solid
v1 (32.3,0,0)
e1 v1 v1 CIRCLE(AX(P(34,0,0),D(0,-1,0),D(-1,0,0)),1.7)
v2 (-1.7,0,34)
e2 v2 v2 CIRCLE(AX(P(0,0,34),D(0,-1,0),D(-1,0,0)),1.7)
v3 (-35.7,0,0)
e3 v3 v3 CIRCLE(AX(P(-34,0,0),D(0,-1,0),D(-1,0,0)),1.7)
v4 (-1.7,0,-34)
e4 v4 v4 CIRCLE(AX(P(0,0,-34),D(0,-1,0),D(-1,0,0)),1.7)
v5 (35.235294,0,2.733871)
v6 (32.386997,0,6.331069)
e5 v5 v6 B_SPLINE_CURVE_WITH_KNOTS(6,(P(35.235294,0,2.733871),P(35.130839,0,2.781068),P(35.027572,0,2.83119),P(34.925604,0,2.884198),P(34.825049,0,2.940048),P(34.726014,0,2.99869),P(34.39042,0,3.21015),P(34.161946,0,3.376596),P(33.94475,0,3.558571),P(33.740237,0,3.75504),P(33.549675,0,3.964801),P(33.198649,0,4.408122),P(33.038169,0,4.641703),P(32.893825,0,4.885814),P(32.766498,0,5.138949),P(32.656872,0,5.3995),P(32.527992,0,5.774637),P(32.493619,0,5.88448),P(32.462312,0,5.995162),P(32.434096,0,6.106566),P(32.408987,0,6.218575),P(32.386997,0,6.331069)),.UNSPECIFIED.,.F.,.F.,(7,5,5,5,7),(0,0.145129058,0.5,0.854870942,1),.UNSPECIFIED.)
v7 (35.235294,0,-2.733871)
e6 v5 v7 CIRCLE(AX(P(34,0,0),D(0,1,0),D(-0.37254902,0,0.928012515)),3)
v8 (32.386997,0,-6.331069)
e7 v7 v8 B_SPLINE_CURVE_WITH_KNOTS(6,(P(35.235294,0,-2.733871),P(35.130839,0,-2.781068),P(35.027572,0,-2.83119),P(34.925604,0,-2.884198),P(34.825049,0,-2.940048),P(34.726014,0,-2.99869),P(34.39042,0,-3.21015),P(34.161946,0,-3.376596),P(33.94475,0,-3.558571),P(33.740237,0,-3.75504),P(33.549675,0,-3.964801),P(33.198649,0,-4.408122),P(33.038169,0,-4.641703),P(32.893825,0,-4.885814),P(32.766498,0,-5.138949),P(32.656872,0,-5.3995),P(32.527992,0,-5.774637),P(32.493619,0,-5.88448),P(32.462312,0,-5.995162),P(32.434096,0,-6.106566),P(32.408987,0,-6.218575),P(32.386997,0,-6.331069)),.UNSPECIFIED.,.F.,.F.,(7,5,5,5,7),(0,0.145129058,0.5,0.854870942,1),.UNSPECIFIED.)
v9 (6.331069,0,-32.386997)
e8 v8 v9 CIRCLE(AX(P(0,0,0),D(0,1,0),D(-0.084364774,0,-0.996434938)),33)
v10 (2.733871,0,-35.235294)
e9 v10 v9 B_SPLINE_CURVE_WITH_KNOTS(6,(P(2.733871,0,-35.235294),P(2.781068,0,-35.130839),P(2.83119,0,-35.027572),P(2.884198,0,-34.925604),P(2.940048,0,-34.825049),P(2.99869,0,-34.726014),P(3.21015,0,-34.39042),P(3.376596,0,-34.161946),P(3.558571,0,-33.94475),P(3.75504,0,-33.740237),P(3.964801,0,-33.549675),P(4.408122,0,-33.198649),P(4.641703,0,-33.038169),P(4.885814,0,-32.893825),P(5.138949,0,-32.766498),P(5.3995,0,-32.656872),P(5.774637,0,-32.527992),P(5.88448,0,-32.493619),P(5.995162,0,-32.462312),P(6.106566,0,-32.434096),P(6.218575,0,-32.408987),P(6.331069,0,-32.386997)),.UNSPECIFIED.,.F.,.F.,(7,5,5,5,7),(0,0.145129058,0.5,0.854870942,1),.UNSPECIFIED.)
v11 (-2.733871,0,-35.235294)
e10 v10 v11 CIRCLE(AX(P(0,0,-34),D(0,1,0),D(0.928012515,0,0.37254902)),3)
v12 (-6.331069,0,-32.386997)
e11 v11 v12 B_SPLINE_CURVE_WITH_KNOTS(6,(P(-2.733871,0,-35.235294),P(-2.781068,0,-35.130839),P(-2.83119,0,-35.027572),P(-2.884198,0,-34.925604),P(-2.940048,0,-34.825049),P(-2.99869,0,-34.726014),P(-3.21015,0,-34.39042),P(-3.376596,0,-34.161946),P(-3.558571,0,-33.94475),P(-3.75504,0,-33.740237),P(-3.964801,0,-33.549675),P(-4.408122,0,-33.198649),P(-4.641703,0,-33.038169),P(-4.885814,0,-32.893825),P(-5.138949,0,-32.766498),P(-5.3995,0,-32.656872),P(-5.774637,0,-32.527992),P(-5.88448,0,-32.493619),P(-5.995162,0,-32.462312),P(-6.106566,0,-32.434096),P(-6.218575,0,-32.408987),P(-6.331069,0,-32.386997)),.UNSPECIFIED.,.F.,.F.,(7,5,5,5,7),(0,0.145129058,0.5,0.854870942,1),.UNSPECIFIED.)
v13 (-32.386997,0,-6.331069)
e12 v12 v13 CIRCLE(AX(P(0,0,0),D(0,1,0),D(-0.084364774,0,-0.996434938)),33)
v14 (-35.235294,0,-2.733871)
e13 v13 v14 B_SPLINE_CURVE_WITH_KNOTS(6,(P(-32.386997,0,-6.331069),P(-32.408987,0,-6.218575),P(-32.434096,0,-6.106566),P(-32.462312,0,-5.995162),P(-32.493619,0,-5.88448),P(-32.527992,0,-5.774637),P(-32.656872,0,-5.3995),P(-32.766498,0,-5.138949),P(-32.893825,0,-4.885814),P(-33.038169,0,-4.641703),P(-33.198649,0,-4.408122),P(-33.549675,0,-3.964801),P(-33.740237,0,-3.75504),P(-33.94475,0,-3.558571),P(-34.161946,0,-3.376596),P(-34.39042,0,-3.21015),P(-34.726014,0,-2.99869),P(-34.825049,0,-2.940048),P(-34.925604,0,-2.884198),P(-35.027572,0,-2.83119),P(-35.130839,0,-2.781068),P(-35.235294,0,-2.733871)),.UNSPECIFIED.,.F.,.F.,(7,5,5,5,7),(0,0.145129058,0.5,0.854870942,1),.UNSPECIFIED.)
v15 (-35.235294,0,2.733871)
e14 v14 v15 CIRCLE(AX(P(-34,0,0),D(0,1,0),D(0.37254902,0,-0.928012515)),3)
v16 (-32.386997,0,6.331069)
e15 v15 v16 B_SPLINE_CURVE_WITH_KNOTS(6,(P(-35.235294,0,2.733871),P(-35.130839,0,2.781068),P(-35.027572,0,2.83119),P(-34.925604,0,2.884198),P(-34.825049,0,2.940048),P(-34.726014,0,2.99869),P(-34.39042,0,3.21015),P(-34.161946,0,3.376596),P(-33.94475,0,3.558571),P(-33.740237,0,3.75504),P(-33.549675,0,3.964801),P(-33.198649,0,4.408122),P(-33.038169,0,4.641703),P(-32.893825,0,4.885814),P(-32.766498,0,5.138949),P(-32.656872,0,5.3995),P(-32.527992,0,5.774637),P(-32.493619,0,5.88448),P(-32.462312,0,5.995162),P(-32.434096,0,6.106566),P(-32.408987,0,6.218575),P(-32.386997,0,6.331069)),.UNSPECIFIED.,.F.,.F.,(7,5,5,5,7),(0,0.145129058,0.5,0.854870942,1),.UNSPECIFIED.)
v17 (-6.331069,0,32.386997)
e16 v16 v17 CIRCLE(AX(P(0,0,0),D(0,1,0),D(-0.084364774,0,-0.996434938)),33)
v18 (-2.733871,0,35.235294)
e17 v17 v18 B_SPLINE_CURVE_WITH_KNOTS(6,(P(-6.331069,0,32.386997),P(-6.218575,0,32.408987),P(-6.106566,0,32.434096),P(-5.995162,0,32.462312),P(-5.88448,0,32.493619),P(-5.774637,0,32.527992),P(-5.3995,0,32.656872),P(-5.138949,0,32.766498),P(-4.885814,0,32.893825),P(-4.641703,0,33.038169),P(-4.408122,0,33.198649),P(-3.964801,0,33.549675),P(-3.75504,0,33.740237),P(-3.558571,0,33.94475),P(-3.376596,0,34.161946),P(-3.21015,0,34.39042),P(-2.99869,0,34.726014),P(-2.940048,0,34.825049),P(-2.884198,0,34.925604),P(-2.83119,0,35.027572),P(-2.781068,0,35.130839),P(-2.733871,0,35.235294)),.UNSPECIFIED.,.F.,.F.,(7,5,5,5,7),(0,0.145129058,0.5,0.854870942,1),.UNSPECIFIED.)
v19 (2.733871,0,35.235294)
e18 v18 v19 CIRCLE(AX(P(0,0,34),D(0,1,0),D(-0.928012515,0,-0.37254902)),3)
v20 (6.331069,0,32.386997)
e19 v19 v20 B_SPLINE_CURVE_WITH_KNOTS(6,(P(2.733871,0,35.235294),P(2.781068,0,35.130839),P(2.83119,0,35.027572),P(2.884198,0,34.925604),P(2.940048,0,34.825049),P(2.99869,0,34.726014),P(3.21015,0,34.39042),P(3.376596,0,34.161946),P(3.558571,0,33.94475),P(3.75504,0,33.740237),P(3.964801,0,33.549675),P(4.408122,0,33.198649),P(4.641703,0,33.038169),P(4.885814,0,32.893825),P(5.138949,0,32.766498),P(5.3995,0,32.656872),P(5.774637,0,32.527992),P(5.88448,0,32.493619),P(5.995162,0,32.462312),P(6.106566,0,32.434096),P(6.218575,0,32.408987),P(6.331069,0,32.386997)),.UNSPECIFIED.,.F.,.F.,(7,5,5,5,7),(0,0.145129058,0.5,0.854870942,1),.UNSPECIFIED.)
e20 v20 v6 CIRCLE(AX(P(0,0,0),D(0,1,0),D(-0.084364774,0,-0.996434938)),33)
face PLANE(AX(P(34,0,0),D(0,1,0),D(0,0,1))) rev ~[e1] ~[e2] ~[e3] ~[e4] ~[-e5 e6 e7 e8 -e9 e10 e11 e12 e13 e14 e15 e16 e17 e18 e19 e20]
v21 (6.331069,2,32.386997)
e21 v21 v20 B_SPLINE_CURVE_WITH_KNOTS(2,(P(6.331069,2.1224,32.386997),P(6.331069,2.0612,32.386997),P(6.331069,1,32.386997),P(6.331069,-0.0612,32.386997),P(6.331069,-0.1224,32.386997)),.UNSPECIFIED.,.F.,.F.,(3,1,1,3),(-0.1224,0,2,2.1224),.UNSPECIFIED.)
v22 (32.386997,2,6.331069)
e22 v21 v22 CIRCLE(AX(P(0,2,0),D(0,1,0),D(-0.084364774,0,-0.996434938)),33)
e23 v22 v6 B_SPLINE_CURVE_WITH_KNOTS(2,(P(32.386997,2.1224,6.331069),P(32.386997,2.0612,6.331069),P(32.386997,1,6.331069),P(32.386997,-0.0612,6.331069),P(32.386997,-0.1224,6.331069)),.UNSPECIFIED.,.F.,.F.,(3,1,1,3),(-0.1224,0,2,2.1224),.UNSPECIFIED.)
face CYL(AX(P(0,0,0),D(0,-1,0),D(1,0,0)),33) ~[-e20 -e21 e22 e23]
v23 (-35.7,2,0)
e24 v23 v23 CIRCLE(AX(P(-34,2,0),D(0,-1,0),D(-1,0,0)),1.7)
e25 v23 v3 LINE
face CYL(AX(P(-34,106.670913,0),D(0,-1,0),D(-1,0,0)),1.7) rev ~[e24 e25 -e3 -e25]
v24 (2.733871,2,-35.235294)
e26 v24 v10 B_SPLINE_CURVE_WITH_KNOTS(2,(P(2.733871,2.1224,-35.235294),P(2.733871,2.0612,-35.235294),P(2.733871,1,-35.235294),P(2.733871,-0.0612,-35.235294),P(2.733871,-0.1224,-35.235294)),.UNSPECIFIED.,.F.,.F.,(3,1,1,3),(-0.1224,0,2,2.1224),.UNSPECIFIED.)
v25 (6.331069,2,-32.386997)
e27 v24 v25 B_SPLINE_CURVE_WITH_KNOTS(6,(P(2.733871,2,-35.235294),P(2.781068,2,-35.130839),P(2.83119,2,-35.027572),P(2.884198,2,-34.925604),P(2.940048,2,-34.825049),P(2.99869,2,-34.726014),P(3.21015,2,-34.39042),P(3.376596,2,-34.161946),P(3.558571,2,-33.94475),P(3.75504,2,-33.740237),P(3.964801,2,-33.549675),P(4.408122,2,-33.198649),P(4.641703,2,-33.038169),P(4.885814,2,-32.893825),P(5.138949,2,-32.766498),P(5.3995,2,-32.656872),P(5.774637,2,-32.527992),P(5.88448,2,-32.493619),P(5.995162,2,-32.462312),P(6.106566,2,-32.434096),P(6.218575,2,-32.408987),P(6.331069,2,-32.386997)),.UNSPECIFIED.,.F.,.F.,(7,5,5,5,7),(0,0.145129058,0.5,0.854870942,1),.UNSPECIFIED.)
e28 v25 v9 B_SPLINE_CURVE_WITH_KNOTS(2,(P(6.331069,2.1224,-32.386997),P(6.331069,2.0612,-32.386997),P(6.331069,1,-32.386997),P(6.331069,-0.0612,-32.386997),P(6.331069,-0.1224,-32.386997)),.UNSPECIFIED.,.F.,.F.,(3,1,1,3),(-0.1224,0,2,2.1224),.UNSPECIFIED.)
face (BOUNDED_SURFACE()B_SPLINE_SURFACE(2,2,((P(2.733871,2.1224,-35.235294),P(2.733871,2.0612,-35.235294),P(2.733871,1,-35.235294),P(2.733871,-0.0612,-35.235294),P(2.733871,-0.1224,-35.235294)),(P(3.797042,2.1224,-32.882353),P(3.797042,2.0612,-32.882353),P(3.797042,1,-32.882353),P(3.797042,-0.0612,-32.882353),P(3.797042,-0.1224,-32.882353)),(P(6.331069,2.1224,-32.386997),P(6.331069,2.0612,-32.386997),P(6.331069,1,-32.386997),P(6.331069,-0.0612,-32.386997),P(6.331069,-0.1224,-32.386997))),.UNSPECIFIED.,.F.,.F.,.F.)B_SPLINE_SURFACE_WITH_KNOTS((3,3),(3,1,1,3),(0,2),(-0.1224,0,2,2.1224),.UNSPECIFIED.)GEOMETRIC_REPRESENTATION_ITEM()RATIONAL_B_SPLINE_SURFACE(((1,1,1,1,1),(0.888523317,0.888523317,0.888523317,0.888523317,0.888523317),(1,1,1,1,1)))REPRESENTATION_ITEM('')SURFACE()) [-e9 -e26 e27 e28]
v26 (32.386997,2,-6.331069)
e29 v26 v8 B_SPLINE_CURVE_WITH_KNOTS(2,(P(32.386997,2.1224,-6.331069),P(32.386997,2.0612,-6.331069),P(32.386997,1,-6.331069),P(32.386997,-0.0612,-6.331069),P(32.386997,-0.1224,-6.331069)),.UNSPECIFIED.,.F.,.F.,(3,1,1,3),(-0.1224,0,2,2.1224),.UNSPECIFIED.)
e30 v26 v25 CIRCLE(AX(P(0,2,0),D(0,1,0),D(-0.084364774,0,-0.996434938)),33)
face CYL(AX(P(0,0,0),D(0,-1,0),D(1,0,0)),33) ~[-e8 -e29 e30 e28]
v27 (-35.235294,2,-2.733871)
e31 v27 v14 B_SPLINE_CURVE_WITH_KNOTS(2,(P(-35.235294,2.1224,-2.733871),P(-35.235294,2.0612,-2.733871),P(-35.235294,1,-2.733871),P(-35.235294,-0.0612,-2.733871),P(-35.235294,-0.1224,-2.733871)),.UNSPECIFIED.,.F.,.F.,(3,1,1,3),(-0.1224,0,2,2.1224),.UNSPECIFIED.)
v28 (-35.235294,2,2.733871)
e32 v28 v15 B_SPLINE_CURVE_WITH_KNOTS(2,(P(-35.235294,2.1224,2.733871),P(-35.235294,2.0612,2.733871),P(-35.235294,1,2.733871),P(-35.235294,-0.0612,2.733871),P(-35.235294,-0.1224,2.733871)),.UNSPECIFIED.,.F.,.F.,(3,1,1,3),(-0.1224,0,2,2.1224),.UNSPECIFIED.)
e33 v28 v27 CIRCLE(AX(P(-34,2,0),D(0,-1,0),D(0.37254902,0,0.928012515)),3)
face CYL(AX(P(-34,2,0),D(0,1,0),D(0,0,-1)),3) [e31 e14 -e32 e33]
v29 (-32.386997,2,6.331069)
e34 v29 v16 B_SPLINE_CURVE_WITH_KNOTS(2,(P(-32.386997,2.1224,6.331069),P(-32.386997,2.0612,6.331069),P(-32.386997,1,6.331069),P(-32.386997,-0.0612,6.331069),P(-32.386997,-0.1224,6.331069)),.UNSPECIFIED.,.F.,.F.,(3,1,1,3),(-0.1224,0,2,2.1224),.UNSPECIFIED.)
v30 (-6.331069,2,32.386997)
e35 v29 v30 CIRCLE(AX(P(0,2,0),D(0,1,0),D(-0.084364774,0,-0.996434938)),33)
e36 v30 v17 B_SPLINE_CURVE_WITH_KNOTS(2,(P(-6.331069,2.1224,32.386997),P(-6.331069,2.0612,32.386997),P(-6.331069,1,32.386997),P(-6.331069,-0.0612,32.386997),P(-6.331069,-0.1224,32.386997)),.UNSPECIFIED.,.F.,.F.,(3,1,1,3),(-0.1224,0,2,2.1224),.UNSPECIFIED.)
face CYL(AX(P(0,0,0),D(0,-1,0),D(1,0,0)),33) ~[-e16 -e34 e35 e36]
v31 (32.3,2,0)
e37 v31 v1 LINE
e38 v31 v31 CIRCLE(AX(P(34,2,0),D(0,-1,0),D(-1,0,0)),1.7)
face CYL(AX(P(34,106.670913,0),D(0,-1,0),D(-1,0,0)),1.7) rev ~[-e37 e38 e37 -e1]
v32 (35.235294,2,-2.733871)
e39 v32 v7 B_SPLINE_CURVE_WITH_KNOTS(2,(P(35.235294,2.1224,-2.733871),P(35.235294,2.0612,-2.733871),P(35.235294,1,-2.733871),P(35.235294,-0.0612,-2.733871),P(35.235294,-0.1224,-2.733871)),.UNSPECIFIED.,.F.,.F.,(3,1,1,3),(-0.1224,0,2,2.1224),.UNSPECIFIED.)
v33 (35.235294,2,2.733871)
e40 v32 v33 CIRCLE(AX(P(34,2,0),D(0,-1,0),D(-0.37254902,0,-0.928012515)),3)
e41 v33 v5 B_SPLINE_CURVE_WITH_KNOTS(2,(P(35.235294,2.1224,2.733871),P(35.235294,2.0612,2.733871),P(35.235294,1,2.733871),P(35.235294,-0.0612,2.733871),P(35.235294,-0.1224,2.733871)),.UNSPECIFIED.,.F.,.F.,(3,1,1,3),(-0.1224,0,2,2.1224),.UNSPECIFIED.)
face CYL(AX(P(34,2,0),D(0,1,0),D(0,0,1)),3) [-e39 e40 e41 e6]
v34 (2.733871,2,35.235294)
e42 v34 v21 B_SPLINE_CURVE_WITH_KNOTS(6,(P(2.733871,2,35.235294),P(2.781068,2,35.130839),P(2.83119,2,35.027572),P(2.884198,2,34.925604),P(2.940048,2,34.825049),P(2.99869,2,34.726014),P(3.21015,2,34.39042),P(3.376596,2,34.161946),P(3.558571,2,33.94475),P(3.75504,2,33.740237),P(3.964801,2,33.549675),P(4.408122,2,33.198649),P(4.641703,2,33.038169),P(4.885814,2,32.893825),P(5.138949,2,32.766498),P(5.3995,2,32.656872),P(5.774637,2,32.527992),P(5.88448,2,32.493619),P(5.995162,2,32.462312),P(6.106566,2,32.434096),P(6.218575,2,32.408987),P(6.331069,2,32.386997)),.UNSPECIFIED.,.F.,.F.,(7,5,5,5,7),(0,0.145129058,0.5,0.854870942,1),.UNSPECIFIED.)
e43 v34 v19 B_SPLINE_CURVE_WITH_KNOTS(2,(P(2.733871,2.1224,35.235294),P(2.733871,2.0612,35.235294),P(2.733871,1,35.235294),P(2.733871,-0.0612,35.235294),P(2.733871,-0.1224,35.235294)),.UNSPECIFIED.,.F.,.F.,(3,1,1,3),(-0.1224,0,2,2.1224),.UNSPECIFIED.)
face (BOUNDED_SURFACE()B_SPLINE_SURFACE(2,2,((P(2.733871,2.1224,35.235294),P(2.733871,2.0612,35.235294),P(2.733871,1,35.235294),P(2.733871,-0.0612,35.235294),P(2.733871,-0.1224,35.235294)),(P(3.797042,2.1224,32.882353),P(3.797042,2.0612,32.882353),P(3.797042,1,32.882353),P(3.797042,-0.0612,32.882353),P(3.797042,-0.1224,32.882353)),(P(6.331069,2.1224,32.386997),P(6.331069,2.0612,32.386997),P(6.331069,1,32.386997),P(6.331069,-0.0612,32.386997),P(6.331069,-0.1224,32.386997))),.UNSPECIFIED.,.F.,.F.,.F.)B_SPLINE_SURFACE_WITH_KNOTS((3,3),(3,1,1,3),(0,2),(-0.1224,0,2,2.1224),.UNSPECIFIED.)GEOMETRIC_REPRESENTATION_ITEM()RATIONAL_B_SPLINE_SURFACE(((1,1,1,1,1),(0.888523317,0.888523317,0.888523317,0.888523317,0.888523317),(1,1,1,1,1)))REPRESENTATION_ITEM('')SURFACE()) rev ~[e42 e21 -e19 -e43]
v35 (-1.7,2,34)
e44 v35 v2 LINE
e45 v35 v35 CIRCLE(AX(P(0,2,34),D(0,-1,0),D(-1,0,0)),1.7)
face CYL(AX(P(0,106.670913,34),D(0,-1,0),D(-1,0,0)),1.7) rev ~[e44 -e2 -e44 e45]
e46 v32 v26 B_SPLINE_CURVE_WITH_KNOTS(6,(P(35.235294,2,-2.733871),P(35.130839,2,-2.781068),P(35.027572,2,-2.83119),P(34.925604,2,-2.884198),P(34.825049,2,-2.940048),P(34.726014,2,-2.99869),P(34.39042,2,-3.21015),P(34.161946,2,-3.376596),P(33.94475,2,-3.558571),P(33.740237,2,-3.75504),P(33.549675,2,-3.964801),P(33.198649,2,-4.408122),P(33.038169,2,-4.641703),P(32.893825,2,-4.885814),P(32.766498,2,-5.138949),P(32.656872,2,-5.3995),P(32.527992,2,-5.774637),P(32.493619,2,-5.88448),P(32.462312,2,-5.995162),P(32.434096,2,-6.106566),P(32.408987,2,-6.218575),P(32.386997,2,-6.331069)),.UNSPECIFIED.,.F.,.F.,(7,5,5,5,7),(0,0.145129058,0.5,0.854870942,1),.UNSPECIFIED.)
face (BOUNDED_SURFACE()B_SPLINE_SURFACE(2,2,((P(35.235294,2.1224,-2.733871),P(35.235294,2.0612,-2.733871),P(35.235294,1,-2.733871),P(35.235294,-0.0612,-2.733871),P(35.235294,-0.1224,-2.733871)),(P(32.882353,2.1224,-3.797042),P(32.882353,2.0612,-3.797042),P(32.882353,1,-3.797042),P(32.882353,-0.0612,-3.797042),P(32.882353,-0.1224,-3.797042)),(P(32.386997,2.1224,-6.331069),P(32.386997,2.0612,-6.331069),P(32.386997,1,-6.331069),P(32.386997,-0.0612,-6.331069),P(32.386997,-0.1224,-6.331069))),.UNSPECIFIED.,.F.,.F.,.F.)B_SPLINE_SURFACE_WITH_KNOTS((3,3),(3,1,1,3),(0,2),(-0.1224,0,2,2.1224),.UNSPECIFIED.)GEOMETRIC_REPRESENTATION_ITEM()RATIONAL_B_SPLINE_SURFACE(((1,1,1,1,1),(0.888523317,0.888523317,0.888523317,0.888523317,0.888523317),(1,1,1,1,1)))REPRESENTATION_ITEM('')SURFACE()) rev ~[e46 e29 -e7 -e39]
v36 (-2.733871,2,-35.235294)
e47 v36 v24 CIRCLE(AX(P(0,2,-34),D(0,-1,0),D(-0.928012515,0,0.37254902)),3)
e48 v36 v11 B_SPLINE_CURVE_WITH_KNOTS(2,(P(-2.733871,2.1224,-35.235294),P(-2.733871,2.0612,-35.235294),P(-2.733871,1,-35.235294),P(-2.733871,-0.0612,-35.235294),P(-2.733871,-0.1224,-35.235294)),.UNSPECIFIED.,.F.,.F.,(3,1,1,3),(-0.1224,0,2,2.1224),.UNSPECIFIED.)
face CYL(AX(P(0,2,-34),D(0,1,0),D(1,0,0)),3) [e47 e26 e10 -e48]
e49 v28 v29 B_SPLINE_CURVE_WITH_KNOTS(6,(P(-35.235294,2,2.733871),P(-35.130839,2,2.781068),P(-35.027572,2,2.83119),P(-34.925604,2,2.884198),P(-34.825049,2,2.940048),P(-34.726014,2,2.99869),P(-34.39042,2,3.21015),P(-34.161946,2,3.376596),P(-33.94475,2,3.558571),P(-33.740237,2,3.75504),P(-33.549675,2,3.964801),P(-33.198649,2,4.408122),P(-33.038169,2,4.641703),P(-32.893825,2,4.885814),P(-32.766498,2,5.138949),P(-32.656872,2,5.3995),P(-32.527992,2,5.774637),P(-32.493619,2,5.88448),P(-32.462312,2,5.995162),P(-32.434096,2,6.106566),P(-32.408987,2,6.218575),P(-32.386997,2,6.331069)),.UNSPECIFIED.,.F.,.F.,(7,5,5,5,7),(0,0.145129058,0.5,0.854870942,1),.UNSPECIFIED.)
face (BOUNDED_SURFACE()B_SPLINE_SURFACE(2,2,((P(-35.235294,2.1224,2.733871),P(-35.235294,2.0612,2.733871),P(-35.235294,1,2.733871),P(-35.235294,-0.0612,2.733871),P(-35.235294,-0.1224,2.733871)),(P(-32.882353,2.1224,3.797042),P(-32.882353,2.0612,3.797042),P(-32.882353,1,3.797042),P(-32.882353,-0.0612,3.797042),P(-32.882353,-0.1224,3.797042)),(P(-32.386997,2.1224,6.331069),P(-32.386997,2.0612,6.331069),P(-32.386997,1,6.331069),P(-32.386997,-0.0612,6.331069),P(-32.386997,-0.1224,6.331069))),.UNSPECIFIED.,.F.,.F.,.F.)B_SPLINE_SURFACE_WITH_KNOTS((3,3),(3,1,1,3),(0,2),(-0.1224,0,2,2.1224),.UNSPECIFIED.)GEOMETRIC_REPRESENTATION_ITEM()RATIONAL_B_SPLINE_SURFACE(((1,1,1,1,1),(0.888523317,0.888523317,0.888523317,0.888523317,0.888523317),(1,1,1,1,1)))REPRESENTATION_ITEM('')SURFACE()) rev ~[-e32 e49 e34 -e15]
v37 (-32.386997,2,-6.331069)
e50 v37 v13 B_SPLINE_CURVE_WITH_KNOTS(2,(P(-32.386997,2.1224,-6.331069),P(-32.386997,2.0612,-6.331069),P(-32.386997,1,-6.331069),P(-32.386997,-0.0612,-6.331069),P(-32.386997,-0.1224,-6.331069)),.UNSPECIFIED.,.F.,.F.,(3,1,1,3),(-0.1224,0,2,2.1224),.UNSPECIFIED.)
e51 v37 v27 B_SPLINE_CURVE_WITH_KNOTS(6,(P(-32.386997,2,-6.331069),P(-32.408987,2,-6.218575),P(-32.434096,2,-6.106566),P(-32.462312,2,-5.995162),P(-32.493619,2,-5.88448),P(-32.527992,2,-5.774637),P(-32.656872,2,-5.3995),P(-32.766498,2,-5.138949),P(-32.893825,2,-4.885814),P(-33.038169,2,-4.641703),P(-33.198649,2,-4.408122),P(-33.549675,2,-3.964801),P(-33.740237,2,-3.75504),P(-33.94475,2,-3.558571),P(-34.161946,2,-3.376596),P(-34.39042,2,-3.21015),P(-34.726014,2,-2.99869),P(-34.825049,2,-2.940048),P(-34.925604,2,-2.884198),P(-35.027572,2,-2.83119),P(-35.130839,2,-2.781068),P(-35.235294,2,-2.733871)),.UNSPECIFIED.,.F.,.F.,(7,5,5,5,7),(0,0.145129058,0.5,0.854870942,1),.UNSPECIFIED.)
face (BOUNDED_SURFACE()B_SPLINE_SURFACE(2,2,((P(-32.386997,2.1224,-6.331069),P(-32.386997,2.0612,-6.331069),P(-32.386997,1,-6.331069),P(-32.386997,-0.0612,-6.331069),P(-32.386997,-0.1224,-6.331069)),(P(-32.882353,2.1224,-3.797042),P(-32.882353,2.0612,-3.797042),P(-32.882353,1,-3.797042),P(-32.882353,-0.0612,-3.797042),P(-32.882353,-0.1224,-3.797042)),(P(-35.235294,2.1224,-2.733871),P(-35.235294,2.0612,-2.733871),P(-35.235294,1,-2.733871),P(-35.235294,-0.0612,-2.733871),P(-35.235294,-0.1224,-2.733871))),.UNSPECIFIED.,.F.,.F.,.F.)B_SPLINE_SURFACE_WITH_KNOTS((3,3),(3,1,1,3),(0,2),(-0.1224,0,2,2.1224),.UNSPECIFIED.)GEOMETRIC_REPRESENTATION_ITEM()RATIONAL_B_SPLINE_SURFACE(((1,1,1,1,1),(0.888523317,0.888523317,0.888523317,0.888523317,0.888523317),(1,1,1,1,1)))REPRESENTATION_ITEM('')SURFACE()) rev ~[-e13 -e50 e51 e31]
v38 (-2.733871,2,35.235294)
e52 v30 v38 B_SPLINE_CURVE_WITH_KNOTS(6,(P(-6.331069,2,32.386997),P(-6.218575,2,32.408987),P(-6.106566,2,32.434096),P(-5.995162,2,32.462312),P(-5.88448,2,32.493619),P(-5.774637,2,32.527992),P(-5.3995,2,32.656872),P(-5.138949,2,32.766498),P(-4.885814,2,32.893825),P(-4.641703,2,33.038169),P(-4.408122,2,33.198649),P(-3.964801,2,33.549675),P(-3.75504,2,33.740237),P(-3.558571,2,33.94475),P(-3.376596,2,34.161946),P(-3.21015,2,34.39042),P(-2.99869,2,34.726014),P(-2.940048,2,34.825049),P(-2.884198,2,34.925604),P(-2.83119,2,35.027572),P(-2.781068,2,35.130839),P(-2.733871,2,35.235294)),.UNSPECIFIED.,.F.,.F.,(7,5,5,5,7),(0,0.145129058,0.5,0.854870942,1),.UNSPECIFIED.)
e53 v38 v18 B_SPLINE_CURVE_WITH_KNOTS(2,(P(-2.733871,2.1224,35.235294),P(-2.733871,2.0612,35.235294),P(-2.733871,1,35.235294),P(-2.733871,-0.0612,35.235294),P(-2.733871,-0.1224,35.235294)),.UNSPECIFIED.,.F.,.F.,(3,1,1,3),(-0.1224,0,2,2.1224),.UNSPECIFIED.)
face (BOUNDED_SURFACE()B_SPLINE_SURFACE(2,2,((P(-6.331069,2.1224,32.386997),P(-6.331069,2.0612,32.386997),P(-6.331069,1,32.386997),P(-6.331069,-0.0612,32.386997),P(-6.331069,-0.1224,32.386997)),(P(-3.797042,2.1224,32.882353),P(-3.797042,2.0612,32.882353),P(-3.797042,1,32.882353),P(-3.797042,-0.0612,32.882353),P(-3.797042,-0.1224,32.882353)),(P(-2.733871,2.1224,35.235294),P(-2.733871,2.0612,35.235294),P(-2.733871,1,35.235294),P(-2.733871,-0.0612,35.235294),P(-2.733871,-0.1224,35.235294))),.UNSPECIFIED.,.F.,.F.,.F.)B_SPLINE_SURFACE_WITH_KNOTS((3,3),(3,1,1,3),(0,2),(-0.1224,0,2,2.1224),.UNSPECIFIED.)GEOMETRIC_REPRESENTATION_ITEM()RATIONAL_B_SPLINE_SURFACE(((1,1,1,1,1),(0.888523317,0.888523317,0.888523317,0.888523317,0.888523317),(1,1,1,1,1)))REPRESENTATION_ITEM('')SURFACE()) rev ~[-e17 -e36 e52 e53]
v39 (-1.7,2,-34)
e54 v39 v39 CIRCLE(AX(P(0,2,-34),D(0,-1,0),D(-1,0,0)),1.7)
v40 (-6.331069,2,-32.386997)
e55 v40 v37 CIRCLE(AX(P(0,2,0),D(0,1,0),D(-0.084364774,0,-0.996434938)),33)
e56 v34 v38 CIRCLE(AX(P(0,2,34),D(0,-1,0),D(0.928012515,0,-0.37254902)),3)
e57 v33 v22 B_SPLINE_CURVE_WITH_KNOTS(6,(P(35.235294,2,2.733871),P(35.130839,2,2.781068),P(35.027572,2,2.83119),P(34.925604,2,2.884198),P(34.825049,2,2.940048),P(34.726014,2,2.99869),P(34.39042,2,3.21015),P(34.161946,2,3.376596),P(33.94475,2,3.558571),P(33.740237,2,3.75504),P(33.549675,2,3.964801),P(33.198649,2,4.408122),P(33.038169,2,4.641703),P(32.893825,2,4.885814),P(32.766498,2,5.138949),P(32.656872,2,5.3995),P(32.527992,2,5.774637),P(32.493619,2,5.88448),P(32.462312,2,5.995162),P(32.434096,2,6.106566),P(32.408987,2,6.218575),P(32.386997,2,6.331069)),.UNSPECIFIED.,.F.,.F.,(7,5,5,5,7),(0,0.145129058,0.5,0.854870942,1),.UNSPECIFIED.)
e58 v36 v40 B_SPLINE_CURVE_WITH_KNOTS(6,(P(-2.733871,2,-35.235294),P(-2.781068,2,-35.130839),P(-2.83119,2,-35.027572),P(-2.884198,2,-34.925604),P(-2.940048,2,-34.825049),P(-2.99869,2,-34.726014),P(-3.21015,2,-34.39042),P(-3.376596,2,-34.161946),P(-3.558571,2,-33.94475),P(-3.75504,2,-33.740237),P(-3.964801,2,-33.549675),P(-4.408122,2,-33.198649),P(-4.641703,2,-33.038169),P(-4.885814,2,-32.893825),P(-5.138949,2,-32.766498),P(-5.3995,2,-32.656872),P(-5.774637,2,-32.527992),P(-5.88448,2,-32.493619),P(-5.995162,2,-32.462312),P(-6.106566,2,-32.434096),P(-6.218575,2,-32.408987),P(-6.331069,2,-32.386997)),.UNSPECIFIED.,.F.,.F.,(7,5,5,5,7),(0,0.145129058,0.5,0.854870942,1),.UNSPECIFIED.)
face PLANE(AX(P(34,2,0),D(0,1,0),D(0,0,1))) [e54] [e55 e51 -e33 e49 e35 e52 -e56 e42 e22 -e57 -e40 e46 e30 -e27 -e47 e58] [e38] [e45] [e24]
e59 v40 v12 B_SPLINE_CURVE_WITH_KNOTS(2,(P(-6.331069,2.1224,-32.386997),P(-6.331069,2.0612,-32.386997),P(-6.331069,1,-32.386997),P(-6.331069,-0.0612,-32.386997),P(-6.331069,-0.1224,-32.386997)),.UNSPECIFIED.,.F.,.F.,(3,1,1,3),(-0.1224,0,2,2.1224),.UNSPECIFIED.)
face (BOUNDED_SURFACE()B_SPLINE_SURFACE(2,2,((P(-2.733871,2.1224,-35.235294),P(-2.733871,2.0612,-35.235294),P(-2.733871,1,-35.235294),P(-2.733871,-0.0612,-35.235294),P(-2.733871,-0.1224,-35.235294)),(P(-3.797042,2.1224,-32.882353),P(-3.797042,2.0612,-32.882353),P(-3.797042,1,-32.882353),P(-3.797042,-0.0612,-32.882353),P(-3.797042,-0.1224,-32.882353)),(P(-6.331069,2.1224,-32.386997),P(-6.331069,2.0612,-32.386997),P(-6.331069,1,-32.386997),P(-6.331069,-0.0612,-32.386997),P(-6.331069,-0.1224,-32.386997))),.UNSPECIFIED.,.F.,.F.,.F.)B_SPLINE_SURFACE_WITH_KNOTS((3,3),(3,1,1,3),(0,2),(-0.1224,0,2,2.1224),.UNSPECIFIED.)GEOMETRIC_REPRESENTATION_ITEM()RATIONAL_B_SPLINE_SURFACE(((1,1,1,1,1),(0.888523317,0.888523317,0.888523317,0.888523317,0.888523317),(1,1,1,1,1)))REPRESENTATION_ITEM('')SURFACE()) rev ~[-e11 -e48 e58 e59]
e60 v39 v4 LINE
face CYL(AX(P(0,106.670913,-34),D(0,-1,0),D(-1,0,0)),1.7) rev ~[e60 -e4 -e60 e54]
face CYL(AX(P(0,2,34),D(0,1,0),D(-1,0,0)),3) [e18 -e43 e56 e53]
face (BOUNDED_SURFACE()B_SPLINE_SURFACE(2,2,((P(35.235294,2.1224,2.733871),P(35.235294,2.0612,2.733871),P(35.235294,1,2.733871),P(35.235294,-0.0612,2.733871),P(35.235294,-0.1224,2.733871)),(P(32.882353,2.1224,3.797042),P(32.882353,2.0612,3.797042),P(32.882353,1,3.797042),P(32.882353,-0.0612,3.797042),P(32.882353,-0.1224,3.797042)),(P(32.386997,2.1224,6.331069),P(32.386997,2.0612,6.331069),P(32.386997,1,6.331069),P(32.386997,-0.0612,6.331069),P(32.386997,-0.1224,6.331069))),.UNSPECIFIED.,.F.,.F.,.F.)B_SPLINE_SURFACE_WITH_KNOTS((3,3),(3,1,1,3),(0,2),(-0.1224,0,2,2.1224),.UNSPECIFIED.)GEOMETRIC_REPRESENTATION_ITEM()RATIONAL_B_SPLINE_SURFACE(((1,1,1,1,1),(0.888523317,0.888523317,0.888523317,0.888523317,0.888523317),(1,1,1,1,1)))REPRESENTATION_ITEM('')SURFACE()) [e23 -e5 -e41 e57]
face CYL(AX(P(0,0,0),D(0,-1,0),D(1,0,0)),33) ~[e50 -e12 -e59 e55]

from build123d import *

# Parameters (mm, degrees)
SKETCH1_R                = 33
BOSS_EXTRUDE1_DEPTH      = 2
SKETCH2_R                = 3
BOSS_EXTRUDE2_DEPTH      = 2
FILLET1_R                = 5
CIRPATTERN1_COUNT        = 4
FILLET1_OF_CIRPATTERN1_R = 5
M3_CLEARANCE_HOLE1_D     = 3.4


with BuildPart() as part:
    # Sketch1 → Boss-Extrude1 (new body)
    with BuildSketch(Plane(origin=(0, 0, 0), x_dir=(1, 0, 0), z_dir=(0, 1, 0))):
        Circle(SKETCH1_R)
    extrude(amount=BOSS_EXTRUDE1_DEPTH)

    # Sketch2 → Boss-Extrude2 (add, through all)
    with BuildSketch(Plane(origin=(0, 2, 0), x_dir=(1, 0, 0), z_dir=(0, 1, 0))):
        with Locations((0, 34)):
            Circle(SKETCH2_R)
    boss_extrude2 = extrude(amount=-BOSS_EXTRUDE2_DEPTH)

    # Fillet1
    fillet1_edges = [part.edges().sort_by_distance(p)[0] for p in [
        (2.784037545, 1, -32.882352941),
        (-2.784037545, 1, -32.882352941),
    ]]
    fillet(fillet1_edges, radius=FILLET1_R)

    # CirPattern1: Boss-Extrude2 ×4 about axis
    cirpattern1_axis = Axis((0, 0, 0), (0, 1, 0))
    for i in range(1, CIRPATTERN1_COUNT):
        add(boss_extrude2.rotate(cirpattern1_axis, i * 360 / CIRPATTERN1_COUNT))

    # Fillet1 of CirPattern1
    fillet1_of_cirpattern1_edges = [part.edges().sort_by_distance(p)[0] for p in [
        (-32.882352941, 1, -2.784037545),
        (-32.882352941, 1, 2.784037545),
        (-2.784037545, 1, 32.882352941),
        (2.784037545, 1, 32.882352941),
        (32.882352941, 1, 2.784037545),
        (32.882352941, 1, -2.784037545),
    ]]
    fillet(fillet1_of_cirpattern1_edges, radius=FILLET1_OF_CIRPATTERN1_R)

    # M3 Clearance Hole1 (through all)
    with Locations(Plane(origin=(0, 2, 0), x_dir=(1, 0, 0), z_dir=(0, 1, 0))):
        with Locations((0, -34), (34, 0), (0, 34), (-34, 0)):
            Hole(M3_CLEARANCE_HOLE1_D / 2)


solid = part.part
